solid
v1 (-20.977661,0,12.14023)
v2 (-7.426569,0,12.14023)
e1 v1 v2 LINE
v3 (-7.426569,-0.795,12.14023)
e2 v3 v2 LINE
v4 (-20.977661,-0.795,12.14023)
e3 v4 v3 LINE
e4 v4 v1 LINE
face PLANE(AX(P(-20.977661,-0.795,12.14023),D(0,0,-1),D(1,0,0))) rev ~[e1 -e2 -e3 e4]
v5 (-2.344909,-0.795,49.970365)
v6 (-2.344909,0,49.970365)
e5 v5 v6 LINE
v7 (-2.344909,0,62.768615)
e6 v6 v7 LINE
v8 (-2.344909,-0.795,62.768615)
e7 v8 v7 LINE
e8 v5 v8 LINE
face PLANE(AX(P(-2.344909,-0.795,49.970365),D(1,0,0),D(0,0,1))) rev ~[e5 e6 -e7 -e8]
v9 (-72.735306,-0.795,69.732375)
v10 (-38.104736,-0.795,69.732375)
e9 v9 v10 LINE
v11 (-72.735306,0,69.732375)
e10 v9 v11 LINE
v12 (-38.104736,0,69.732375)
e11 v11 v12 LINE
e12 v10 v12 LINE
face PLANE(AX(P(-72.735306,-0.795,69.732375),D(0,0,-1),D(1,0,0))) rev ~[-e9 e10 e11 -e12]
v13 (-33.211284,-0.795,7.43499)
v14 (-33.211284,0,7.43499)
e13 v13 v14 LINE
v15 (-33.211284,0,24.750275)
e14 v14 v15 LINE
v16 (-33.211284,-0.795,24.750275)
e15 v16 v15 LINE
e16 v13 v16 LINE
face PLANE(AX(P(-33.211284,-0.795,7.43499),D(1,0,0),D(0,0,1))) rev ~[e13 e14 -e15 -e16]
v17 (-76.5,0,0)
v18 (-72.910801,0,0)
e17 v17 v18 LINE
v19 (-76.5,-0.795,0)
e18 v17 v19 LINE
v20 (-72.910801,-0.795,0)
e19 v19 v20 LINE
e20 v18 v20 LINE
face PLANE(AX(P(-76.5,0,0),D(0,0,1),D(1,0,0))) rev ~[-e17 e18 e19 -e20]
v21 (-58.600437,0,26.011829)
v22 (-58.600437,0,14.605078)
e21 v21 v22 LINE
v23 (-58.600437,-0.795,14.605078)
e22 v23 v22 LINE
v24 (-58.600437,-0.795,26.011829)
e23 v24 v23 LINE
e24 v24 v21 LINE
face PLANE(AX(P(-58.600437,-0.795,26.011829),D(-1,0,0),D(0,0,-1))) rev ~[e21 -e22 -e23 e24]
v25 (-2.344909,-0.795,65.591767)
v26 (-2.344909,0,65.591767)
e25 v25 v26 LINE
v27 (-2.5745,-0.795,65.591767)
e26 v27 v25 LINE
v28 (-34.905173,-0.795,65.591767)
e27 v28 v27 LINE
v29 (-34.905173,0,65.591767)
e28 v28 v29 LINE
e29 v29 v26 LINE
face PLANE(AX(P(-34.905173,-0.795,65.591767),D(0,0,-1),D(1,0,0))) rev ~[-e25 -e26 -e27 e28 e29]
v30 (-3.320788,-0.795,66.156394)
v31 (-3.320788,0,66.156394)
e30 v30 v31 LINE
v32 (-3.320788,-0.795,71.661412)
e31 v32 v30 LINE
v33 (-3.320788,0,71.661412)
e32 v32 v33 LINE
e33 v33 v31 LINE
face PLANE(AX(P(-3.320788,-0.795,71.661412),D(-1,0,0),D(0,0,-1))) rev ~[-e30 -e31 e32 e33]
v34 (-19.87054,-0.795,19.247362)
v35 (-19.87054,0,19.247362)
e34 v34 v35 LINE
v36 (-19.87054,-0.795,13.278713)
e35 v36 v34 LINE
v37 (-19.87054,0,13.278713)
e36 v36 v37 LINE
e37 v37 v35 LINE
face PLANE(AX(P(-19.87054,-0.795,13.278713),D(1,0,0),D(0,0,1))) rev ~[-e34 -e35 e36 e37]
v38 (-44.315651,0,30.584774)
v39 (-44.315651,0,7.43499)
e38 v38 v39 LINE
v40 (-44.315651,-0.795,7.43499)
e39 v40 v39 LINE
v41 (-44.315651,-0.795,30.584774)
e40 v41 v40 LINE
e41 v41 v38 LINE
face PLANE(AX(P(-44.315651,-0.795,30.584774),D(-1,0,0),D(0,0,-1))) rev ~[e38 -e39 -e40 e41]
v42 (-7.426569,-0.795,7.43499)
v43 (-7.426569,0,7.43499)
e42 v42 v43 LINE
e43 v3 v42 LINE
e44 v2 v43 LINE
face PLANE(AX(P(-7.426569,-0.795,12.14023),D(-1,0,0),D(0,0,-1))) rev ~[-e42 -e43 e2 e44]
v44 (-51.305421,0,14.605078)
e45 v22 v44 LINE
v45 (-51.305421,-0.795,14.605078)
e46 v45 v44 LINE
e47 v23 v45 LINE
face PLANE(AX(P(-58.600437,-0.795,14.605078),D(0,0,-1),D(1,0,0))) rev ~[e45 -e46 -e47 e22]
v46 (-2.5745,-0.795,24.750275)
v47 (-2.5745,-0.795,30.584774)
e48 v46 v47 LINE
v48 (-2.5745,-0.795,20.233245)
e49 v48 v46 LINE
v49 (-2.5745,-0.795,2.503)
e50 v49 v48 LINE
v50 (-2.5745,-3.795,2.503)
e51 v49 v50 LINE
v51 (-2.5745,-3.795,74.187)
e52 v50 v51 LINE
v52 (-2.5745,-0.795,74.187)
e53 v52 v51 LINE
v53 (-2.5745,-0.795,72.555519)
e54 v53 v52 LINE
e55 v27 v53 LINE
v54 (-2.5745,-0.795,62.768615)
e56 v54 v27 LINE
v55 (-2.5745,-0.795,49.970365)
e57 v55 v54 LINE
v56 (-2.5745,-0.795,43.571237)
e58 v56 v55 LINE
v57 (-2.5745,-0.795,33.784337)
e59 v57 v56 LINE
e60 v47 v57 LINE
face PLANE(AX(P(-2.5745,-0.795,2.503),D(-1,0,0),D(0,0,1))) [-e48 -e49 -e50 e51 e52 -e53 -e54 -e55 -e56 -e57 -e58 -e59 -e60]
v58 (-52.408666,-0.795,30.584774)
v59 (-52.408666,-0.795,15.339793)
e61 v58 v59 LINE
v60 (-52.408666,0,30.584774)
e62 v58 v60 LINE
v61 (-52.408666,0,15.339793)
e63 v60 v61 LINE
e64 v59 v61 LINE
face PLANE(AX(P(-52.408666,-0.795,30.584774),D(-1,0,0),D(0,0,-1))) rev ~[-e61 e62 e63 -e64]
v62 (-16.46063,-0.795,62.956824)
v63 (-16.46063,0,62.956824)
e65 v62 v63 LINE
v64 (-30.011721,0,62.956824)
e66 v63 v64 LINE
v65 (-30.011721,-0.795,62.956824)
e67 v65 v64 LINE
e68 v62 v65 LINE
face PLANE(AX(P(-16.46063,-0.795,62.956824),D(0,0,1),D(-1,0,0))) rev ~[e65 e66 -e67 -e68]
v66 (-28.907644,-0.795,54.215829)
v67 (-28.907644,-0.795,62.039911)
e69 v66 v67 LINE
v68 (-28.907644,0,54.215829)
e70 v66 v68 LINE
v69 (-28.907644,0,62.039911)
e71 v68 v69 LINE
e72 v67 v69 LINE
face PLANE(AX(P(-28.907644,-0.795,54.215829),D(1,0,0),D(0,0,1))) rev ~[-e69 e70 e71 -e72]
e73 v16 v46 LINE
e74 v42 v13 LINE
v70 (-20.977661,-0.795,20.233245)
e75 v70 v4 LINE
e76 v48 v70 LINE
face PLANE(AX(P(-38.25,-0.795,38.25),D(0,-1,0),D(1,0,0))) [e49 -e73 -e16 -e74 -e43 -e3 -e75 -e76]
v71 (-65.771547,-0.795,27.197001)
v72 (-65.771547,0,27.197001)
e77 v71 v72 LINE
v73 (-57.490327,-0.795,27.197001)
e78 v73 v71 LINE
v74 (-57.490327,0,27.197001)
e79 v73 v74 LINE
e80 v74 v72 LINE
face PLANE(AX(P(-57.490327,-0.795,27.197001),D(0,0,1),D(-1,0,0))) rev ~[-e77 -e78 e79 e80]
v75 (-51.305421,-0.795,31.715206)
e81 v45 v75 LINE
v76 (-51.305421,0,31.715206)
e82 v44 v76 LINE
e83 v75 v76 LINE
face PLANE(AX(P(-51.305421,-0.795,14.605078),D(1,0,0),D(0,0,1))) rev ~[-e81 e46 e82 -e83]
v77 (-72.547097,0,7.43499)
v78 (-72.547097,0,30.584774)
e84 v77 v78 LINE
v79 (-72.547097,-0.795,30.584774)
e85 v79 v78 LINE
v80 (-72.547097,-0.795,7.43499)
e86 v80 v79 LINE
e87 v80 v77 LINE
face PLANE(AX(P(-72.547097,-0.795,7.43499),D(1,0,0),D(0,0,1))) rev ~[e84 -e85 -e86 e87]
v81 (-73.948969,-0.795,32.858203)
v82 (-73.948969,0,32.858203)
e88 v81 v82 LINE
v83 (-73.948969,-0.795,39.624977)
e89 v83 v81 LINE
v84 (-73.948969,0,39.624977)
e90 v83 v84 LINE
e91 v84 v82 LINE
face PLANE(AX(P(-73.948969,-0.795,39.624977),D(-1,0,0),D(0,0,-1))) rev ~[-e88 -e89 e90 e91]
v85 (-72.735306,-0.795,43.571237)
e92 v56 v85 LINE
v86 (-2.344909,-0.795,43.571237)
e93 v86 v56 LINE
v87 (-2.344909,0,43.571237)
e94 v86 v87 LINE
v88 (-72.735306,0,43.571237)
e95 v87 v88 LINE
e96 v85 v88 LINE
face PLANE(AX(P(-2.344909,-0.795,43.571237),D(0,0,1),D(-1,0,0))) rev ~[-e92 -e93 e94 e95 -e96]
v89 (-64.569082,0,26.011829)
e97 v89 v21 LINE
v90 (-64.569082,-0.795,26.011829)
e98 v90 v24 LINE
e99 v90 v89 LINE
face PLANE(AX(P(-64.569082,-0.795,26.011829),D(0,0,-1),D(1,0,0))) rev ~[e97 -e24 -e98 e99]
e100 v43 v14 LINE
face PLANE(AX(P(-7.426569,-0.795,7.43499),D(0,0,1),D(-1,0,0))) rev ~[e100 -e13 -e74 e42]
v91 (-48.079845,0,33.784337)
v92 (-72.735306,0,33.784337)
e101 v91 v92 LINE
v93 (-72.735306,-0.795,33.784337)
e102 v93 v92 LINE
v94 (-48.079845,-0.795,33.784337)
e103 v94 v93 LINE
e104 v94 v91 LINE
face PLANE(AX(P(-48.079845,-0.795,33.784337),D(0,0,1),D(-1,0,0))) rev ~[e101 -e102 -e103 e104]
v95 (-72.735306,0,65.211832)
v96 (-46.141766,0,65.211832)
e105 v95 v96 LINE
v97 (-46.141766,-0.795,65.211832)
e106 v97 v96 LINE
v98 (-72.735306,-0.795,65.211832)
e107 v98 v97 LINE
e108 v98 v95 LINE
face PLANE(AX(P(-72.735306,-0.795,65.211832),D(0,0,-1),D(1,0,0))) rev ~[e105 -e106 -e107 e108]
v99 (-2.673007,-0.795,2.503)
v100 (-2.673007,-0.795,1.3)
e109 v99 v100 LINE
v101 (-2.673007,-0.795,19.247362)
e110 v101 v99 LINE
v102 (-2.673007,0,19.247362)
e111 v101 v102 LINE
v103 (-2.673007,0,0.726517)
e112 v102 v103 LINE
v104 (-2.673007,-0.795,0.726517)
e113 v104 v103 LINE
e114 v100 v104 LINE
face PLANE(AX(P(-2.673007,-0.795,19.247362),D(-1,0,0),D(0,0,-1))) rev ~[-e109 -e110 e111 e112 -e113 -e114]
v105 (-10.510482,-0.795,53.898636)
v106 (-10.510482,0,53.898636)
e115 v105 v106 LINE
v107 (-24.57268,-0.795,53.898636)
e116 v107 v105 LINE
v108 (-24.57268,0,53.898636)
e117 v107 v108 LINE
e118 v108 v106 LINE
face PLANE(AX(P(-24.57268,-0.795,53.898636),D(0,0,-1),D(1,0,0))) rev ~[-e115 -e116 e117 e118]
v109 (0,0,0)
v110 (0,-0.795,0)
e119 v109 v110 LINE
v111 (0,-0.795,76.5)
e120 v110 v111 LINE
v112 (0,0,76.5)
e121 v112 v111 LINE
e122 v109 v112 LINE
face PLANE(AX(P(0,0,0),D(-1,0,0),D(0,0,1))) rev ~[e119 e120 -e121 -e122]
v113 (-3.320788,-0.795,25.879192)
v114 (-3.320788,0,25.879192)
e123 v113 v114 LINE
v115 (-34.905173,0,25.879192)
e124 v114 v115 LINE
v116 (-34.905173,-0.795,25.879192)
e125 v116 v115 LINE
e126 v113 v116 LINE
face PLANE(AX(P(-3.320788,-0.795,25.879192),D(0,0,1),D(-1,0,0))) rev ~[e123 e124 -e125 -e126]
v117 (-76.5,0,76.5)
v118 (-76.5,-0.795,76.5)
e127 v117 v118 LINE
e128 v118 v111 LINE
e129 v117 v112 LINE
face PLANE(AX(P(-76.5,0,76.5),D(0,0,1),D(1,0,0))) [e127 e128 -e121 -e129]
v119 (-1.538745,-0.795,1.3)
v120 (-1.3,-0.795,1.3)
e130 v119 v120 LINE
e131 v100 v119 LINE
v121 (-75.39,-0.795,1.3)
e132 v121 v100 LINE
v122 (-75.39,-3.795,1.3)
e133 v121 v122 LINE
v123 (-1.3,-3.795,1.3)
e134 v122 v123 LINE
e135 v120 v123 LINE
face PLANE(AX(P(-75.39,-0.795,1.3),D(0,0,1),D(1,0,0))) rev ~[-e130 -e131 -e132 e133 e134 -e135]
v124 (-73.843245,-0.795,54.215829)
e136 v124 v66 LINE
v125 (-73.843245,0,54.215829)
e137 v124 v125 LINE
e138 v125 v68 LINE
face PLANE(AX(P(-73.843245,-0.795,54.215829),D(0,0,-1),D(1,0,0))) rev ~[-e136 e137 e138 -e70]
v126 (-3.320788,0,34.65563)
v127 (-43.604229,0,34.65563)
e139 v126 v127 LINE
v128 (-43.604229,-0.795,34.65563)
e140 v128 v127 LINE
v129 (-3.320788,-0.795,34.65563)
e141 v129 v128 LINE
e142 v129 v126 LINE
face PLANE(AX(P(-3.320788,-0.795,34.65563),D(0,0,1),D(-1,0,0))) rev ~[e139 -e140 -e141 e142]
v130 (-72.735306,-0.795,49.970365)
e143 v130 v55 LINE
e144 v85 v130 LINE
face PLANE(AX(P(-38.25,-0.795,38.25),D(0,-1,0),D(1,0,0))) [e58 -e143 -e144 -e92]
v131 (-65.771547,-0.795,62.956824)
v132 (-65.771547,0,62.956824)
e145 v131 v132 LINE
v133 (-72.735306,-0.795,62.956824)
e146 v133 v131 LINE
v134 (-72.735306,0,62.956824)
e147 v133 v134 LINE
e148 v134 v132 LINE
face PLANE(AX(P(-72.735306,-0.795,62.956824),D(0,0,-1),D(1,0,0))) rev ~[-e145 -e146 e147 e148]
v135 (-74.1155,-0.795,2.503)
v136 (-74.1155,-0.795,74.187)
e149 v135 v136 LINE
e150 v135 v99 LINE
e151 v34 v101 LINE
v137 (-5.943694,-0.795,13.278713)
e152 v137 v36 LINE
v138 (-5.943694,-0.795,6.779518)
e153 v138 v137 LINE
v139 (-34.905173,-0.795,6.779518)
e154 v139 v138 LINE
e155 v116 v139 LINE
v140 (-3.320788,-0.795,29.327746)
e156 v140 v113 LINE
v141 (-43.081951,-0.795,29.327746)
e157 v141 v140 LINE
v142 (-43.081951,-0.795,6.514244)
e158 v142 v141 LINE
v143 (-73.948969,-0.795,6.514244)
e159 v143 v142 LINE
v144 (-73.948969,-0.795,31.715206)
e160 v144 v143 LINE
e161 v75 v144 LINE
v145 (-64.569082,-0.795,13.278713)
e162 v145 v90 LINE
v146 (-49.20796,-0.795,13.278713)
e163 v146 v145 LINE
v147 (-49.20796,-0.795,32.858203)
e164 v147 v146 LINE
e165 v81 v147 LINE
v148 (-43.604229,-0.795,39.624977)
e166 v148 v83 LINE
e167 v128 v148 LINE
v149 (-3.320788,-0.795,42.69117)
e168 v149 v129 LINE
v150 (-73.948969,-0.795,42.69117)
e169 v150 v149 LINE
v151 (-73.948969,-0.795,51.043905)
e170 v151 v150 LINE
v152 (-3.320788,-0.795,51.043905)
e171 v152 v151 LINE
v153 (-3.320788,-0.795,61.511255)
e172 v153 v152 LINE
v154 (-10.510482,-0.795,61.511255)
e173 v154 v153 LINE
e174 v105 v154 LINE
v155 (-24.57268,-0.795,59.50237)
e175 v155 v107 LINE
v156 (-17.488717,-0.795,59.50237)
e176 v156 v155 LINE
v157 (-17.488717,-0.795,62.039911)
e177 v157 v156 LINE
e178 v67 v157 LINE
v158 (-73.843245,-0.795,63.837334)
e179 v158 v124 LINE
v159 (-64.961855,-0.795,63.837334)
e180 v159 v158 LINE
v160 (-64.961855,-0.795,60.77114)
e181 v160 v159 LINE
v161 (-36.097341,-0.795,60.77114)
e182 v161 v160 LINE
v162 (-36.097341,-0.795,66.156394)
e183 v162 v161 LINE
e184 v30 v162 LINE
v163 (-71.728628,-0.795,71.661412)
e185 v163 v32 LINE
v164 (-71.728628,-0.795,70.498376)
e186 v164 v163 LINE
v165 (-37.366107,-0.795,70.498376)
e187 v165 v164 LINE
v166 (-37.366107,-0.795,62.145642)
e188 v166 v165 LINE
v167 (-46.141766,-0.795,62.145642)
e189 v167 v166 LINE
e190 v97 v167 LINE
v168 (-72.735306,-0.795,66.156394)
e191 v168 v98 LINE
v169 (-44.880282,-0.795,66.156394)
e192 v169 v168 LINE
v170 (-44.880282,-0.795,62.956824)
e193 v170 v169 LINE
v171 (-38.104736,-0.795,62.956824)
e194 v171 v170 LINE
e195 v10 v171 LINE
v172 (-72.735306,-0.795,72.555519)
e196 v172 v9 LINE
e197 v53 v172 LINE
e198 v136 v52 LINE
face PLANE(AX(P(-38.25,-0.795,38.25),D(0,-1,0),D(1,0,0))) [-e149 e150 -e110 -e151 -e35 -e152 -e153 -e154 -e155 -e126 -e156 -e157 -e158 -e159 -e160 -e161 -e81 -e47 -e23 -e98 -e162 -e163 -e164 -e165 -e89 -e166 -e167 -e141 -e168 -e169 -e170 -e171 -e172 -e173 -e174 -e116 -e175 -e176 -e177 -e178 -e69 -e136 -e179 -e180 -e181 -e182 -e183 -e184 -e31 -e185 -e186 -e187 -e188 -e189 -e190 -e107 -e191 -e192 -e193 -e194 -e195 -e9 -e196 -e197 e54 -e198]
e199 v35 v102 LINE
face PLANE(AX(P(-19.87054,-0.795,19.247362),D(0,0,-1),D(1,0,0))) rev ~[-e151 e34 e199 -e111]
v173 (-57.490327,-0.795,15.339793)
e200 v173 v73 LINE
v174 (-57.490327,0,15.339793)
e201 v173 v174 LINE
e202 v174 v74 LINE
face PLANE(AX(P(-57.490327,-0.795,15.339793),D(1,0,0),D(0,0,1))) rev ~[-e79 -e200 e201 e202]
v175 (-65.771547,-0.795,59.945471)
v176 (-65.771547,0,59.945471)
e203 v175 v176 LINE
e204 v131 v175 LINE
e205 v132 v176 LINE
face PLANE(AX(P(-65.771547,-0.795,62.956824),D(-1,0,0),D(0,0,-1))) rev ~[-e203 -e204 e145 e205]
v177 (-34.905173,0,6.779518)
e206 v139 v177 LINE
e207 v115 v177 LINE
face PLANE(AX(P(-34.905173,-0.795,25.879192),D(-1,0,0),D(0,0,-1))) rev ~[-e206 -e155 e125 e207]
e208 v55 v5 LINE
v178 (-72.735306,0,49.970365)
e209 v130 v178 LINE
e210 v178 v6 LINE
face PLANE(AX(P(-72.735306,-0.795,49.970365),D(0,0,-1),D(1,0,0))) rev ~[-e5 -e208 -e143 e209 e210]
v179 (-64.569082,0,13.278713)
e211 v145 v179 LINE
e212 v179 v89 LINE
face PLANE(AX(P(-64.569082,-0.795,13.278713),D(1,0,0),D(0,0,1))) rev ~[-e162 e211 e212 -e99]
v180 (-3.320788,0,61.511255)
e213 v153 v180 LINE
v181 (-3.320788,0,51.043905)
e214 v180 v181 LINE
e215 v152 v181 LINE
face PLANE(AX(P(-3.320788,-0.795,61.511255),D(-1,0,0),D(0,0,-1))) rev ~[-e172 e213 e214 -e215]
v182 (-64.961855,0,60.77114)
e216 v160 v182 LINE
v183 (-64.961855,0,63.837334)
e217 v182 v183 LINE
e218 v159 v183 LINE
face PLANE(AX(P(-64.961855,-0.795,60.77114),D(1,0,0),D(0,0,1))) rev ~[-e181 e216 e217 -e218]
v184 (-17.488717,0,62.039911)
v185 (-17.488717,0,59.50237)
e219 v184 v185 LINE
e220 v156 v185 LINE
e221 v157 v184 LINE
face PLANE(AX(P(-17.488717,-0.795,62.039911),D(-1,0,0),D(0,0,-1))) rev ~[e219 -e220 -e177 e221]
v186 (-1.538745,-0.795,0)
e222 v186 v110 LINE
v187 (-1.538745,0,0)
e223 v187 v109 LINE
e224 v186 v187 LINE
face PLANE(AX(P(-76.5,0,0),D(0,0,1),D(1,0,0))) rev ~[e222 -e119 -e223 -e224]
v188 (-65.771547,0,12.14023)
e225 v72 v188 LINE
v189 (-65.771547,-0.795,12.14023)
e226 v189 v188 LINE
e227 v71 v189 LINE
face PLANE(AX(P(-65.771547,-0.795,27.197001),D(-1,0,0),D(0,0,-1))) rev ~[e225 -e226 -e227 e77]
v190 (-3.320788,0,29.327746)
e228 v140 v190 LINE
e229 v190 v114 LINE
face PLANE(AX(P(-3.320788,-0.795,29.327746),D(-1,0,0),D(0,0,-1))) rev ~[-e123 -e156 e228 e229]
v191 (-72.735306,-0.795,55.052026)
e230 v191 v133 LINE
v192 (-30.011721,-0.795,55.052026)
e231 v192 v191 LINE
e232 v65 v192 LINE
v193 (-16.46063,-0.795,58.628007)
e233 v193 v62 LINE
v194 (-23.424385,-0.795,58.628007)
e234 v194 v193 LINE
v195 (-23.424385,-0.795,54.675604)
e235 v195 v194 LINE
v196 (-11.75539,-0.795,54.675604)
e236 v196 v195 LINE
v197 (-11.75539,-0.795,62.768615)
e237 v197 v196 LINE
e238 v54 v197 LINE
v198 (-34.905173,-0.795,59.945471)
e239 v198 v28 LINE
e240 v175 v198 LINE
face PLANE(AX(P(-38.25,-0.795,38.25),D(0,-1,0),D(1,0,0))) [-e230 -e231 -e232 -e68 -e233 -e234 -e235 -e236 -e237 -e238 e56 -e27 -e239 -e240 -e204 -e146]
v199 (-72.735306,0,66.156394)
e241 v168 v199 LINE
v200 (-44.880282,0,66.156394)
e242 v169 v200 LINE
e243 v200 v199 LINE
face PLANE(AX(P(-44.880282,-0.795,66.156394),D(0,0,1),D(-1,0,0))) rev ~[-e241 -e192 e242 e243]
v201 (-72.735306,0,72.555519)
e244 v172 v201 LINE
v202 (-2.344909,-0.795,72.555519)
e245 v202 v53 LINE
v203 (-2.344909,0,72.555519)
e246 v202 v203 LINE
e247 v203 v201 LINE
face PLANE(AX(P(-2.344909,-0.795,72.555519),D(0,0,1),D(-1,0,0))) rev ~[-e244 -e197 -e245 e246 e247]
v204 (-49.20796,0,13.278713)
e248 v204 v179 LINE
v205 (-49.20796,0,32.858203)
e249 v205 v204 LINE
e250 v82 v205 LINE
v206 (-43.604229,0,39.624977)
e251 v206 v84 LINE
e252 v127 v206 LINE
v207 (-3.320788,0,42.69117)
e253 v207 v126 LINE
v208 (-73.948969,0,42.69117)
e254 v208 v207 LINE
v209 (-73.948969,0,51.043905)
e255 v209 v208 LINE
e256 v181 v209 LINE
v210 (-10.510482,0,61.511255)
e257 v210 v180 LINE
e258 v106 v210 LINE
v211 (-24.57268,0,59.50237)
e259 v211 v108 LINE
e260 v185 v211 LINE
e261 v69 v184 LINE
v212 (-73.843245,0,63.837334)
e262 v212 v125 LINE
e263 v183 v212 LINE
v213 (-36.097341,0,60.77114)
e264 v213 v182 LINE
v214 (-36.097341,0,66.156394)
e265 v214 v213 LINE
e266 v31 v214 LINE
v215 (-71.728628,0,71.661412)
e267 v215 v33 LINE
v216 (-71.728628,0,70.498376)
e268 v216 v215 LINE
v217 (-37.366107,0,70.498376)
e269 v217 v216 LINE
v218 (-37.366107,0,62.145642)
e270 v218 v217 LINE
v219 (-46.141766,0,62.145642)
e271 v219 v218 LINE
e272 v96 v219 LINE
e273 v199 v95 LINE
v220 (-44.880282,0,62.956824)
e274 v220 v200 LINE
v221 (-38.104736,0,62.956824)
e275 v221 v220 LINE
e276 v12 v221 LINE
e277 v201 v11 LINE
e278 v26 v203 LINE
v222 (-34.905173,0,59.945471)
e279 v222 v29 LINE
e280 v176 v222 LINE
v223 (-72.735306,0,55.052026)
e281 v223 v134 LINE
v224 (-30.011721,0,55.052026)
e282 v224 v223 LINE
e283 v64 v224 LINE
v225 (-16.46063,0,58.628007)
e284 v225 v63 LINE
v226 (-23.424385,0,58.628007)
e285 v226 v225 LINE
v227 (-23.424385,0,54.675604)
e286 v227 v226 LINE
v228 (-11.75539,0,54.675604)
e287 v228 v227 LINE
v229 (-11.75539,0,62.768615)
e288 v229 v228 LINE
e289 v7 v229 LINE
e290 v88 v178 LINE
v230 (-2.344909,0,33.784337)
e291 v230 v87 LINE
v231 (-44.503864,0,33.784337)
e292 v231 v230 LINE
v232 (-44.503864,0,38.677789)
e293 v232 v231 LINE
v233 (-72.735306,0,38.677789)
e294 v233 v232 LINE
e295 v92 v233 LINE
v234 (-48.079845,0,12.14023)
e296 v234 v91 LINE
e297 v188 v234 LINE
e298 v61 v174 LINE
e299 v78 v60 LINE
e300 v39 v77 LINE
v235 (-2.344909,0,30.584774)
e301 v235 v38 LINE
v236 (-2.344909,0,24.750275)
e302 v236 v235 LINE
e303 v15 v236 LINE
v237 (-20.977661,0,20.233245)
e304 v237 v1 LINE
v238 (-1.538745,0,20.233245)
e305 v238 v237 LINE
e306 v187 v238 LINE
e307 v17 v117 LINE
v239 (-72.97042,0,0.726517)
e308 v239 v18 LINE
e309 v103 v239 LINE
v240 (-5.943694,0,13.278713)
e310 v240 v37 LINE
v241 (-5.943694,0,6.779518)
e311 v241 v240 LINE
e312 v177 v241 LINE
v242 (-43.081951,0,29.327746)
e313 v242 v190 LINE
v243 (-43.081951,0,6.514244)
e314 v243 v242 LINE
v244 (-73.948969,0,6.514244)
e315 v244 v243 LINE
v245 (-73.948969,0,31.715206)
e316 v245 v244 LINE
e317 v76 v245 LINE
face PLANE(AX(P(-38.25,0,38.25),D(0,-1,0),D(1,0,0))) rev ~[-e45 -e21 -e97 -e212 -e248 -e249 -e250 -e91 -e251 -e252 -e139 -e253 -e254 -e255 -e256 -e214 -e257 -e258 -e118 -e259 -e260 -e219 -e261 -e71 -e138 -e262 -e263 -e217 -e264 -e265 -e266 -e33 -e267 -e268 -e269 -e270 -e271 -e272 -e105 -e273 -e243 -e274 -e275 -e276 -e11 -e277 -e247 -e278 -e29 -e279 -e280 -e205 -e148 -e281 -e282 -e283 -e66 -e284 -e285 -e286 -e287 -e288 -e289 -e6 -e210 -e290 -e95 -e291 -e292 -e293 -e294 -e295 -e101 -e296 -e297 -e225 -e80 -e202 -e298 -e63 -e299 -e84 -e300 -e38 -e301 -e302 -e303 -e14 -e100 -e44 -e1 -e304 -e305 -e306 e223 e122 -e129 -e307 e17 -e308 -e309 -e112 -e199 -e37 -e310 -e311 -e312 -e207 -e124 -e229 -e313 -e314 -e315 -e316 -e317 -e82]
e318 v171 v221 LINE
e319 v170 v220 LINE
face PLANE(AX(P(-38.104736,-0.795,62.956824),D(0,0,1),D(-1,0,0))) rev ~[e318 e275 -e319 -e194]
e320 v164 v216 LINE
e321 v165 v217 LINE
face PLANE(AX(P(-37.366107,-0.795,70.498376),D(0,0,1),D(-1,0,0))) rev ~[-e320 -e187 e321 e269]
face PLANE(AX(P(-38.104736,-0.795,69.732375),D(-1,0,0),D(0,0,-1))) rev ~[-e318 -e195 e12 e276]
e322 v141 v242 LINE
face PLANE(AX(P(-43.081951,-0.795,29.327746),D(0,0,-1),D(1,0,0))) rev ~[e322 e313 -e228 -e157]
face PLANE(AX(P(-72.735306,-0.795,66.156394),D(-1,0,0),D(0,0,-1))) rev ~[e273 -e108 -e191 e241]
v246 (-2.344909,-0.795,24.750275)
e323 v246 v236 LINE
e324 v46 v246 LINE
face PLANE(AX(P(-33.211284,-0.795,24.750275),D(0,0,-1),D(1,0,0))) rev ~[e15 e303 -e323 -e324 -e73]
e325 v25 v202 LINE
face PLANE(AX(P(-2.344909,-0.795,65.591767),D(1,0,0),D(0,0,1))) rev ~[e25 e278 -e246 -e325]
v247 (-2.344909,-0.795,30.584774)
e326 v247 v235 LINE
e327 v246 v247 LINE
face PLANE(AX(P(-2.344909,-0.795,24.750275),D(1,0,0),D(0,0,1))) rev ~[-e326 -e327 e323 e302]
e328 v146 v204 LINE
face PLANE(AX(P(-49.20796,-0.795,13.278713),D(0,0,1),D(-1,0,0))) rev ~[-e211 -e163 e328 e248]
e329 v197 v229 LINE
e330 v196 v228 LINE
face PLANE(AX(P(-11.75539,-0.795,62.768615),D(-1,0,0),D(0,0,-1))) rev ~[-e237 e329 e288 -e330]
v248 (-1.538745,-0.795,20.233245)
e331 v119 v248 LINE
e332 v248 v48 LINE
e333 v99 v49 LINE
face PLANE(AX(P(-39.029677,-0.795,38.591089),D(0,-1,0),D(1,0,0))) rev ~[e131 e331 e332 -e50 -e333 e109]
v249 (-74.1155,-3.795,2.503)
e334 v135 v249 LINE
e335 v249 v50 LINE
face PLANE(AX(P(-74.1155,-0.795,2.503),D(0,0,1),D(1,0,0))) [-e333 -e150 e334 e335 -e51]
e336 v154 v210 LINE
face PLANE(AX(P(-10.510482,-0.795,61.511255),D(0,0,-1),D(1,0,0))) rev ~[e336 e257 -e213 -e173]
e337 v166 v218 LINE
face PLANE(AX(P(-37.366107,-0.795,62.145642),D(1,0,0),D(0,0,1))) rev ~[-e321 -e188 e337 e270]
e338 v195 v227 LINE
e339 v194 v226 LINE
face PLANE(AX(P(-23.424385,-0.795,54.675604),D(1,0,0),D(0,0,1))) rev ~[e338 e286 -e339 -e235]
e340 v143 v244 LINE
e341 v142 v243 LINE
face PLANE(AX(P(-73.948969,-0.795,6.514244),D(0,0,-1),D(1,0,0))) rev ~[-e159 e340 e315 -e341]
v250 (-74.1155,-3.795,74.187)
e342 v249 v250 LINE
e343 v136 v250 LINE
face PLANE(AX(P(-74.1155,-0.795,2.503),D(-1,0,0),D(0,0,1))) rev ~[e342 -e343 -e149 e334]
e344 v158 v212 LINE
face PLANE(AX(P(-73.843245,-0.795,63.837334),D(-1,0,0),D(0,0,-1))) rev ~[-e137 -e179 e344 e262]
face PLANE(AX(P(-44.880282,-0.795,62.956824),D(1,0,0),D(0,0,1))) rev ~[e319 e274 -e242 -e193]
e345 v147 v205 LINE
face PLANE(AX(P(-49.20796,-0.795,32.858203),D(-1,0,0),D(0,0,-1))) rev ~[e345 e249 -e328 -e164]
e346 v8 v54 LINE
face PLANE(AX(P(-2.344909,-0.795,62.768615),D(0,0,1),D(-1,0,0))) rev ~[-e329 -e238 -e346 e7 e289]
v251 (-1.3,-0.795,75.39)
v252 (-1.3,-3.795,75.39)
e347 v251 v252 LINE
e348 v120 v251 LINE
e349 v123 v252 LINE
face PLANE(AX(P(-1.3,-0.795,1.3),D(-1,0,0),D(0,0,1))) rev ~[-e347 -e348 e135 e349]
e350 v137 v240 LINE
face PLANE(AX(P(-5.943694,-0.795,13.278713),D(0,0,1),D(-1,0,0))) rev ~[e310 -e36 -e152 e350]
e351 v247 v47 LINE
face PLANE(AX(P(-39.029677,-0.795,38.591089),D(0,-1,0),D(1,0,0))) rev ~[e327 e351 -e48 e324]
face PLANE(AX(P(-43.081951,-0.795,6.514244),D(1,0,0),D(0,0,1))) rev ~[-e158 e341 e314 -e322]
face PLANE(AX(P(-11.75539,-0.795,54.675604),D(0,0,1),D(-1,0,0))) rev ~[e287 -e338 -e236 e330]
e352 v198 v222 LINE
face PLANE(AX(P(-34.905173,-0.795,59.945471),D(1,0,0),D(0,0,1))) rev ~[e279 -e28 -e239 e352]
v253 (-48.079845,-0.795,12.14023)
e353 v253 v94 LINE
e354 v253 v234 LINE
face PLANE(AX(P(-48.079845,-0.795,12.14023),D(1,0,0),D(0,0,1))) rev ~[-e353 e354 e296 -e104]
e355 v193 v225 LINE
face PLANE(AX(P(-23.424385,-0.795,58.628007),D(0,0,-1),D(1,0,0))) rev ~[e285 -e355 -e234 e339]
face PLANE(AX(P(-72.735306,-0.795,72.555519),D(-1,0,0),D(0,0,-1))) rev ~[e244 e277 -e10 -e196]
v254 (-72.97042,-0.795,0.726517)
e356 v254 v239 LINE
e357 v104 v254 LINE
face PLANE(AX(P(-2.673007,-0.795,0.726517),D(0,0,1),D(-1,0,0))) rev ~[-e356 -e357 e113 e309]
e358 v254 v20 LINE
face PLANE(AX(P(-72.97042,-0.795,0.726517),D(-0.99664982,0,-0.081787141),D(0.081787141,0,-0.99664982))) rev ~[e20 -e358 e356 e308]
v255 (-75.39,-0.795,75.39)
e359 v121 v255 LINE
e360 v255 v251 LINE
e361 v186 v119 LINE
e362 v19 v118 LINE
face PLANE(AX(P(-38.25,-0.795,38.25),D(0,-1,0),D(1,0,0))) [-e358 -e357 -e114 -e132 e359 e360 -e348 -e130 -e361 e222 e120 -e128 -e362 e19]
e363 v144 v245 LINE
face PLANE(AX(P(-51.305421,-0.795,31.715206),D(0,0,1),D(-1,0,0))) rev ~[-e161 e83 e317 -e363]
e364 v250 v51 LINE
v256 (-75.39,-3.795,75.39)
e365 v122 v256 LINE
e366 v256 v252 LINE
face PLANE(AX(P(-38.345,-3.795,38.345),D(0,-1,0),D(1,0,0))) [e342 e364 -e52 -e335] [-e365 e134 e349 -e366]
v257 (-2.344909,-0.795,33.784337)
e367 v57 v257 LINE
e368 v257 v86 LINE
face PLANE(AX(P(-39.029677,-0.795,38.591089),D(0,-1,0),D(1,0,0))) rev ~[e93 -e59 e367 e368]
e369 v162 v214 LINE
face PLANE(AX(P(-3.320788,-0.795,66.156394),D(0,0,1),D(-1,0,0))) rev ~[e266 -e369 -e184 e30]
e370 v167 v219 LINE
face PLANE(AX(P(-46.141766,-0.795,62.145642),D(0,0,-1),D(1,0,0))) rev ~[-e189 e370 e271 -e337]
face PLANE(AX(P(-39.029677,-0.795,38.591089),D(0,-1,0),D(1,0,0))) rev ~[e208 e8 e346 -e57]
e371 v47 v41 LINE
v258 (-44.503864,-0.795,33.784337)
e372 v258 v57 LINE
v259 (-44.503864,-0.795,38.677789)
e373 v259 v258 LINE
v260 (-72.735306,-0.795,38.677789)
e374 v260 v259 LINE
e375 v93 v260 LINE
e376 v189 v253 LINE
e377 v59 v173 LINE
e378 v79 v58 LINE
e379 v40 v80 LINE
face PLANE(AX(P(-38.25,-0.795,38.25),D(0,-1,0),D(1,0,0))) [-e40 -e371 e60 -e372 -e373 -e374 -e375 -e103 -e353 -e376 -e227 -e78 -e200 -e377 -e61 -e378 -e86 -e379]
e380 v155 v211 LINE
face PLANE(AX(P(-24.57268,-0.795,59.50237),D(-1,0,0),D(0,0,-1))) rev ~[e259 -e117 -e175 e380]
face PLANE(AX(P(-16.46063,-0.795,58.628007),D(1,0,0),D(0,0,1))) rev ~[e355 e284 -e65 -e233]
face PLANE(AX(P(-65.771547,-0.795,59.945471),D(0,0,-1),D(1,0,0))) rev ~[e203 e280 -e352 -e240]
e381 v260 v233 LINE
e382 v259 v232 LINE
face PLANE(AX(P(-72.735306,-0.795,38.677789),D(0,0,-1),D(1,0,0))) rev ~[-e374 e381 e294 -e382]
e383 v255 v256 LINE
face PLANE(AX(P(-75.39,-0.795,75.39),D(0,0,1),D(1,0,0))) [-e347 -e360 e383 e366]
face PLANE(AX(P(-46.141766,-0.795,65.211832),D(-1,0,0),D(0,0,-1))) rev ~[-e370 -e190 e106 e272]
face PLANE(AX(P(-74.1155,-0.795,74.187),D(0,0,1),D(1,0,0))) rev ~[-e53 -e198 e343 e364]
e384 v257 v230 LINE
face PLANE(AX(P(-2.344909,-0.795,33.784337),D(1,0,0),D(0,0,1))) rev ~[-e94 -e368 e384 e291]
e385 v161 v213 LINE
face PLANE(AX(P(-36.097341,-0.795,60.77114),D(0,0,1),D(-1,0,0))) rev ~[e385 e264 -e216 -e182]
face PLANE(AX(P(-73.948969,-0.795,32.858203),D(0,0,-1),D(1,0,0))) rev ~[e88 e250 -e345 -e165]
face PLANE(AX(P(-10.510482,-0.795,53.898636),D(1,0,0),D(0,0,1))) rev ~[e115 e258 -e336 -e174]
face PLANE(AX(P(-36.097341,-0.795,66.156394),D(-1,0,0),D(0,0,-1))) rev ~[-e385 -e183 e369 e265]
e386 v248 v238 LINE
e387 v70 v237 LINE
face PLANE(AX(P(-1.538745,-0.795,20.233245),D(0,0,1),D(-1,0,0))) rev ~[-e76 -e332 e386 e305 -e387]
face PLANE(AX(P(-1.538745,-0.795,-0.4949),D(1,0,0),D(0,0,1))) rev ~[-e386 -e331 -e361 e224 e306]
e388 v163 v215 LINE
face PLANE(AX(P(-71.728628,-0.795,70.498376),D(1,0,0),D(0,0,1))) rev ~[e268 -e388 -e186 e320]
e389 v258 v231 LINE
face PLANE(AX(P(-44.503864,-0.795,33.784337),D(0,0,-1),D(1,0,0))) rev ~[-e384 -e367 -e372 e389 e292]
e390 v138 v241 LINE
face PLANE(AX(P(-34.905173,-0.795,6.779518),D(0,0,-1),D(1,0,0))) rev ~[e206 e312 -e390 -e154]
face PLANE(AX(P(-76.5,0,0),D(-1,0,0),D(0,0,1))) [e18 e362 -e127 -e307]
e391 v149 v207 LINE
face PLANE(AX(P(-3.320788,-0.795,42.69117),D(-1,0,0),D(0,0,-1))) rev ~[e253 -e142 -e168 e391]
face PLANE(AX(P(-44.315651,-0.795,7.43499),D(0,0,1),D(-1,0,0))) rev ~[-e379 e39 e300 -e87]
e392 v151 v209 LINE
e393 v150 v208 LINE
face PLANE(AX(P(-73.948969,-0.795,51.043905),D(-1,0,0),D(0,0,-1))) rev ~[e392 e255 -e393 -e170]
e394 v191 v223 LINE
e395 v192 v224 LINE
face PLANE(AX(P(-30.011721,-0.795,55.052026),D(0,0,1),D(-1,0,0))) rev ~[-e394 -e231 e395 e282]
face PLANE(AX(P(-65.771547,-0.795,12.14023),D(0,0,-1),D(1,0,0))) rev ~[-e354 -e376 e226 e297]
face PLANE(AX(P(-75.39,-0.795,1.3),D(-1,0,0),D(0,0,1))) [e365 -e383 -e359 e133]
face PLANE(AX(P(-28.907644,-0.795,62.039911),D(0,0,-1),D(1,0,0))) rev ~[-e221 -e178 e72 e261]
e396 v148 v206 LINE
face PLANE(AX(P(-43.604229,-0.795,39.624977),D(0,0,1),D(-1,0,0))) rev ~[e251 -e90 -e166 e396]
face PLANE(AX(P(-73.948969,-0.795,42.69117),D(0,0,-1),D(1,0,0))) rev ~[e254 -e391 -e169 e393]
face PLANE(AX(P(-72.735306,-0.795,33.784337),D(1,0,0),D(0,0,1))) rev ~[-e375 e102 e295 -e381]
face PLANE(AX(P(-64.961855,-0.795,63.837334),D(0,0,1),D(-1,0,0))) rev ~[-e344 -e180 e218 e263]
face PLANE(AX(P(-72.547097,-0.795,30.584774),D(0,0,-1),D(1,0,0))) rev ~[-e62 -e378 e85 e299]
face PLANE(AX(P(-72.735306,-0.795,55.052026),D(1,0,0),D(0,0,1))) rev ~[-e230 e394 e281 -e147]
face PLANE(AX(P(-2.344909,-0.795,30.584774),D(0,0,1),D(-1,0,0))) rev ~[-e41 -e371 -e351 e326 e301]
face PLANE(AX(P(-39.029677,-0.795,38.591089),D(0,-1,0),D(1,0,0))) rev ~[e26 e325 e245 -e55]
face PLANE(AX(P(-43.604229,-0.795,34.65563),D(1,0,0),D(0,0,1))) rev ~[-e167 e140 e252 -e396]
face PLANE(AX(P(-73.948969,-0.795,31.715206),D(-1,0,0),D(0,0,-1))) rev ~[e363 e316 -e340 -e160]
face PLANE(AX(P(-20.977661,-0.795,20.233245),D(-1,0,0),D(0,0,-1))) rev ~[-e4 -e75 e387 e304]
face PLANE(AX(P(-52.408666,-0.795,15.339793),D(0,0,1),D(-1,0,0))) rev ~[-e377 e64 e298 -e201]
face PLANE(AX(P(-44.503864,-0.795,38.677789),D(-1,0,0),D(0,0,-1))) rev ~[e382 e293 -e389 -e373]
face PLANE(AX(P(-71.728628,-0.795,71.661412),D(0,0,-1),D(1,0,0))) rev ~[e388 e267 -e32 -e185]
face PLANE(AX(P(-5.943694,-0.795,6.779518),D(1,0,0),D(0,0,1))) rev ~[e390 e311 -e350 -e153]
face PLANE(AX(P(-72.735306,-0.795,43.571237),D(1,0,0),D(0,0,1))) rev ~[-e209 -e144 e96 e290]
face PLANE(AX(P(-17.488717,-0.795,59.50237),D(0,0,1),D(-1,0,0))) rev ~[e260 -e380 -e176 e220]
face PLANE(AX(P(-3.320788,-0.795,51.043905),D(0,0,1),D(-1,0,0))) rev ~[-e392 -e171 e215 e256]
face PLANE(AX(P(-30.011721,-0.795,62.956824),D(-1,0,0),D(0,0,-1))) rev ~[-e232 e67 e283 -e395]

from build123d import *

# Parameters (mm, degrees)
F0_W     = 76.5
F0_H     = 76.5
F1_DEPTH = 0.795
F2_W     = 74.09
F2_H     = 74.09
F2_W_2   = 71.541
F2_H_2   = 71.684
F3_DEPTH = 3
F5_DEPTH = 0.795


with BuildPart() as f1:
    # F0 (on Front) → F1 (new body)
    with BuildSketch(Plane.XZ):
        with Locations((-38.25, 38.25)):
            Rectangle(F0_W, F0_H)
    extrude(amount=F1_DEPTH)

    # F2 (on face) → F3 (join)
    with BuildSketch(Plane.XZ.offset(0.795)):
        with Locations((-38.345, 38.345)):
            Rectangle(F2_W, F2_H)
        with Locations((-38.345, 38.345)):
            Rectangle(F2_W_2, F2_H_2, mode=Mode.SUBTRACT)
    extrude(amount=F3_DEPTH)

    # F4 (on face) → F5 (cut)
    with BuildSketch(Plane.XZ.offset(0.795)):
        Polygon((-72.97042, 0.726517), (-72.870188, -0.4949), (-1.538745, -0.4949), (-1.538745, 20.233245), (-20.977661, 20.233245), (-20.977661, 12.14023), (-7.426569, 12.14023), (-7.426569, 7.43499), (-33.211284, 7.43499), (-33.211284, 24.750275), (-2.344909, 24.750275), (-2.344909, 30.584774), (-44.315651, 30.584774), (-44.315651, 7.43499), (-72.547097, 7.43499), (-72.547097, 30.584774), (-52.408666, 30.584774), (-52.408666, 15.339793), (-57.490327, 15.339793), (-57.490327, 27.197001), (-65.771547, 27.197001), (-65.771547, 12.14023), (-48.079845, 12.14023), (-48.079845, 33.784337), (-72.735306, 33.784337), (-72.735306, 38.677789), (-44.503864, 38.677789), (-44.503864, 33.784337), (-2.344909, 33.784337), (-2.344909, 43.571237), (-72.735306, 43.571237), (-72.735306, 49.970365), (-2.344909, 49.970365), (-2.344909, 62.768615), (-11.75539, 62.768615), (-11.75539, 54.675604), (-23.424385, 54.675604), (-23.424385, 58.628007), (-16.46063, 58.628007), (-16.46063, 62.956824), (-30.011721, 62.956824), (-30.011721, 55.052026), (-72.735306, 55.052026), (-72.735306, 62.956824), (-65.771547, 62.956824), (-65.771547, 59.945471), (-34.905173, 59.945471), (-34.905173, 65.591767), (-2.344909, 65.591767), (-2.344909, 72.555519), (-72.735306, 72.555519), (-72.735306, 69.732375), (-38.104736, 69.732375), (-38.104736, 62.956824), (-44.880282, 62.956824), (-44.880282, 66.156394), (-72.735306, 66.156394), (-72.735306, 65.211832), (-46.141766, 65.211832), (-46.141766, 62.145642), (-37.366107, 62.145642), (-37.366107, 70.498376), (-71.728628, 70.498376), (-71.728628, 71.661412), (-3.320788, 71.661412), (-3.320788, 66.156394), (-36.097341, 66.156394), (-36.097341, 60.77114), (-64.961855, 60.77114), (-64.961855, 63.837334), (-73.843245, 63.837334), (-73.843245, 54.215829), (-28.907644, 54.215829), (-28.907644, 62.039911), (-17.488717, 62.039911), (-17.488717, 59.50237), (-24.57268, 59.50237), (-24.57268, 53.898636), (-10.510482, 53.898636), (-10.510482, 61.511255), (-3.320788, 61.511255), (-3.320788, 51.043905), (-73.948969, 51.043905), (-73.948969, 42.69117), (-3.320788, 42.69117), (-3.320788, 34.65563), (-43.604229, 34.65563), (-43.604229, 39.624977), (-73.948969, 39.624977), (-73.948969, 32.858203), (-49.20796, 32.858203), (-49.20796, 13.278713), (-64.569082, 13.278713), (-64.569082, 26.011829), (-58.600437, 26.011829), (-58.600437, 14.605078), (-51.305421, 14.605078), (-51.305421, 31.715206), (-73.948969, 31.715206), (-73.948969, 6.514244), (-43.081951, 6.514244), (-43.081951, 29.327746), (-3.320788, 29.327746), (-3.320788, 25.879192), (-34.905173, 25.879192), (-34.905173, 6.779518), (-5.943694, 6.779518), (-5.943694, 13.278713), (-19.87054, 13.278713), (-19.87054, 19.247362), (-2.673007, 19.247362), (-2.673007, 0.726517), align=None)
    extrude(amount=-F5_DEPTH, mode=Mode.SUBTRACT)


solid = f1.part
